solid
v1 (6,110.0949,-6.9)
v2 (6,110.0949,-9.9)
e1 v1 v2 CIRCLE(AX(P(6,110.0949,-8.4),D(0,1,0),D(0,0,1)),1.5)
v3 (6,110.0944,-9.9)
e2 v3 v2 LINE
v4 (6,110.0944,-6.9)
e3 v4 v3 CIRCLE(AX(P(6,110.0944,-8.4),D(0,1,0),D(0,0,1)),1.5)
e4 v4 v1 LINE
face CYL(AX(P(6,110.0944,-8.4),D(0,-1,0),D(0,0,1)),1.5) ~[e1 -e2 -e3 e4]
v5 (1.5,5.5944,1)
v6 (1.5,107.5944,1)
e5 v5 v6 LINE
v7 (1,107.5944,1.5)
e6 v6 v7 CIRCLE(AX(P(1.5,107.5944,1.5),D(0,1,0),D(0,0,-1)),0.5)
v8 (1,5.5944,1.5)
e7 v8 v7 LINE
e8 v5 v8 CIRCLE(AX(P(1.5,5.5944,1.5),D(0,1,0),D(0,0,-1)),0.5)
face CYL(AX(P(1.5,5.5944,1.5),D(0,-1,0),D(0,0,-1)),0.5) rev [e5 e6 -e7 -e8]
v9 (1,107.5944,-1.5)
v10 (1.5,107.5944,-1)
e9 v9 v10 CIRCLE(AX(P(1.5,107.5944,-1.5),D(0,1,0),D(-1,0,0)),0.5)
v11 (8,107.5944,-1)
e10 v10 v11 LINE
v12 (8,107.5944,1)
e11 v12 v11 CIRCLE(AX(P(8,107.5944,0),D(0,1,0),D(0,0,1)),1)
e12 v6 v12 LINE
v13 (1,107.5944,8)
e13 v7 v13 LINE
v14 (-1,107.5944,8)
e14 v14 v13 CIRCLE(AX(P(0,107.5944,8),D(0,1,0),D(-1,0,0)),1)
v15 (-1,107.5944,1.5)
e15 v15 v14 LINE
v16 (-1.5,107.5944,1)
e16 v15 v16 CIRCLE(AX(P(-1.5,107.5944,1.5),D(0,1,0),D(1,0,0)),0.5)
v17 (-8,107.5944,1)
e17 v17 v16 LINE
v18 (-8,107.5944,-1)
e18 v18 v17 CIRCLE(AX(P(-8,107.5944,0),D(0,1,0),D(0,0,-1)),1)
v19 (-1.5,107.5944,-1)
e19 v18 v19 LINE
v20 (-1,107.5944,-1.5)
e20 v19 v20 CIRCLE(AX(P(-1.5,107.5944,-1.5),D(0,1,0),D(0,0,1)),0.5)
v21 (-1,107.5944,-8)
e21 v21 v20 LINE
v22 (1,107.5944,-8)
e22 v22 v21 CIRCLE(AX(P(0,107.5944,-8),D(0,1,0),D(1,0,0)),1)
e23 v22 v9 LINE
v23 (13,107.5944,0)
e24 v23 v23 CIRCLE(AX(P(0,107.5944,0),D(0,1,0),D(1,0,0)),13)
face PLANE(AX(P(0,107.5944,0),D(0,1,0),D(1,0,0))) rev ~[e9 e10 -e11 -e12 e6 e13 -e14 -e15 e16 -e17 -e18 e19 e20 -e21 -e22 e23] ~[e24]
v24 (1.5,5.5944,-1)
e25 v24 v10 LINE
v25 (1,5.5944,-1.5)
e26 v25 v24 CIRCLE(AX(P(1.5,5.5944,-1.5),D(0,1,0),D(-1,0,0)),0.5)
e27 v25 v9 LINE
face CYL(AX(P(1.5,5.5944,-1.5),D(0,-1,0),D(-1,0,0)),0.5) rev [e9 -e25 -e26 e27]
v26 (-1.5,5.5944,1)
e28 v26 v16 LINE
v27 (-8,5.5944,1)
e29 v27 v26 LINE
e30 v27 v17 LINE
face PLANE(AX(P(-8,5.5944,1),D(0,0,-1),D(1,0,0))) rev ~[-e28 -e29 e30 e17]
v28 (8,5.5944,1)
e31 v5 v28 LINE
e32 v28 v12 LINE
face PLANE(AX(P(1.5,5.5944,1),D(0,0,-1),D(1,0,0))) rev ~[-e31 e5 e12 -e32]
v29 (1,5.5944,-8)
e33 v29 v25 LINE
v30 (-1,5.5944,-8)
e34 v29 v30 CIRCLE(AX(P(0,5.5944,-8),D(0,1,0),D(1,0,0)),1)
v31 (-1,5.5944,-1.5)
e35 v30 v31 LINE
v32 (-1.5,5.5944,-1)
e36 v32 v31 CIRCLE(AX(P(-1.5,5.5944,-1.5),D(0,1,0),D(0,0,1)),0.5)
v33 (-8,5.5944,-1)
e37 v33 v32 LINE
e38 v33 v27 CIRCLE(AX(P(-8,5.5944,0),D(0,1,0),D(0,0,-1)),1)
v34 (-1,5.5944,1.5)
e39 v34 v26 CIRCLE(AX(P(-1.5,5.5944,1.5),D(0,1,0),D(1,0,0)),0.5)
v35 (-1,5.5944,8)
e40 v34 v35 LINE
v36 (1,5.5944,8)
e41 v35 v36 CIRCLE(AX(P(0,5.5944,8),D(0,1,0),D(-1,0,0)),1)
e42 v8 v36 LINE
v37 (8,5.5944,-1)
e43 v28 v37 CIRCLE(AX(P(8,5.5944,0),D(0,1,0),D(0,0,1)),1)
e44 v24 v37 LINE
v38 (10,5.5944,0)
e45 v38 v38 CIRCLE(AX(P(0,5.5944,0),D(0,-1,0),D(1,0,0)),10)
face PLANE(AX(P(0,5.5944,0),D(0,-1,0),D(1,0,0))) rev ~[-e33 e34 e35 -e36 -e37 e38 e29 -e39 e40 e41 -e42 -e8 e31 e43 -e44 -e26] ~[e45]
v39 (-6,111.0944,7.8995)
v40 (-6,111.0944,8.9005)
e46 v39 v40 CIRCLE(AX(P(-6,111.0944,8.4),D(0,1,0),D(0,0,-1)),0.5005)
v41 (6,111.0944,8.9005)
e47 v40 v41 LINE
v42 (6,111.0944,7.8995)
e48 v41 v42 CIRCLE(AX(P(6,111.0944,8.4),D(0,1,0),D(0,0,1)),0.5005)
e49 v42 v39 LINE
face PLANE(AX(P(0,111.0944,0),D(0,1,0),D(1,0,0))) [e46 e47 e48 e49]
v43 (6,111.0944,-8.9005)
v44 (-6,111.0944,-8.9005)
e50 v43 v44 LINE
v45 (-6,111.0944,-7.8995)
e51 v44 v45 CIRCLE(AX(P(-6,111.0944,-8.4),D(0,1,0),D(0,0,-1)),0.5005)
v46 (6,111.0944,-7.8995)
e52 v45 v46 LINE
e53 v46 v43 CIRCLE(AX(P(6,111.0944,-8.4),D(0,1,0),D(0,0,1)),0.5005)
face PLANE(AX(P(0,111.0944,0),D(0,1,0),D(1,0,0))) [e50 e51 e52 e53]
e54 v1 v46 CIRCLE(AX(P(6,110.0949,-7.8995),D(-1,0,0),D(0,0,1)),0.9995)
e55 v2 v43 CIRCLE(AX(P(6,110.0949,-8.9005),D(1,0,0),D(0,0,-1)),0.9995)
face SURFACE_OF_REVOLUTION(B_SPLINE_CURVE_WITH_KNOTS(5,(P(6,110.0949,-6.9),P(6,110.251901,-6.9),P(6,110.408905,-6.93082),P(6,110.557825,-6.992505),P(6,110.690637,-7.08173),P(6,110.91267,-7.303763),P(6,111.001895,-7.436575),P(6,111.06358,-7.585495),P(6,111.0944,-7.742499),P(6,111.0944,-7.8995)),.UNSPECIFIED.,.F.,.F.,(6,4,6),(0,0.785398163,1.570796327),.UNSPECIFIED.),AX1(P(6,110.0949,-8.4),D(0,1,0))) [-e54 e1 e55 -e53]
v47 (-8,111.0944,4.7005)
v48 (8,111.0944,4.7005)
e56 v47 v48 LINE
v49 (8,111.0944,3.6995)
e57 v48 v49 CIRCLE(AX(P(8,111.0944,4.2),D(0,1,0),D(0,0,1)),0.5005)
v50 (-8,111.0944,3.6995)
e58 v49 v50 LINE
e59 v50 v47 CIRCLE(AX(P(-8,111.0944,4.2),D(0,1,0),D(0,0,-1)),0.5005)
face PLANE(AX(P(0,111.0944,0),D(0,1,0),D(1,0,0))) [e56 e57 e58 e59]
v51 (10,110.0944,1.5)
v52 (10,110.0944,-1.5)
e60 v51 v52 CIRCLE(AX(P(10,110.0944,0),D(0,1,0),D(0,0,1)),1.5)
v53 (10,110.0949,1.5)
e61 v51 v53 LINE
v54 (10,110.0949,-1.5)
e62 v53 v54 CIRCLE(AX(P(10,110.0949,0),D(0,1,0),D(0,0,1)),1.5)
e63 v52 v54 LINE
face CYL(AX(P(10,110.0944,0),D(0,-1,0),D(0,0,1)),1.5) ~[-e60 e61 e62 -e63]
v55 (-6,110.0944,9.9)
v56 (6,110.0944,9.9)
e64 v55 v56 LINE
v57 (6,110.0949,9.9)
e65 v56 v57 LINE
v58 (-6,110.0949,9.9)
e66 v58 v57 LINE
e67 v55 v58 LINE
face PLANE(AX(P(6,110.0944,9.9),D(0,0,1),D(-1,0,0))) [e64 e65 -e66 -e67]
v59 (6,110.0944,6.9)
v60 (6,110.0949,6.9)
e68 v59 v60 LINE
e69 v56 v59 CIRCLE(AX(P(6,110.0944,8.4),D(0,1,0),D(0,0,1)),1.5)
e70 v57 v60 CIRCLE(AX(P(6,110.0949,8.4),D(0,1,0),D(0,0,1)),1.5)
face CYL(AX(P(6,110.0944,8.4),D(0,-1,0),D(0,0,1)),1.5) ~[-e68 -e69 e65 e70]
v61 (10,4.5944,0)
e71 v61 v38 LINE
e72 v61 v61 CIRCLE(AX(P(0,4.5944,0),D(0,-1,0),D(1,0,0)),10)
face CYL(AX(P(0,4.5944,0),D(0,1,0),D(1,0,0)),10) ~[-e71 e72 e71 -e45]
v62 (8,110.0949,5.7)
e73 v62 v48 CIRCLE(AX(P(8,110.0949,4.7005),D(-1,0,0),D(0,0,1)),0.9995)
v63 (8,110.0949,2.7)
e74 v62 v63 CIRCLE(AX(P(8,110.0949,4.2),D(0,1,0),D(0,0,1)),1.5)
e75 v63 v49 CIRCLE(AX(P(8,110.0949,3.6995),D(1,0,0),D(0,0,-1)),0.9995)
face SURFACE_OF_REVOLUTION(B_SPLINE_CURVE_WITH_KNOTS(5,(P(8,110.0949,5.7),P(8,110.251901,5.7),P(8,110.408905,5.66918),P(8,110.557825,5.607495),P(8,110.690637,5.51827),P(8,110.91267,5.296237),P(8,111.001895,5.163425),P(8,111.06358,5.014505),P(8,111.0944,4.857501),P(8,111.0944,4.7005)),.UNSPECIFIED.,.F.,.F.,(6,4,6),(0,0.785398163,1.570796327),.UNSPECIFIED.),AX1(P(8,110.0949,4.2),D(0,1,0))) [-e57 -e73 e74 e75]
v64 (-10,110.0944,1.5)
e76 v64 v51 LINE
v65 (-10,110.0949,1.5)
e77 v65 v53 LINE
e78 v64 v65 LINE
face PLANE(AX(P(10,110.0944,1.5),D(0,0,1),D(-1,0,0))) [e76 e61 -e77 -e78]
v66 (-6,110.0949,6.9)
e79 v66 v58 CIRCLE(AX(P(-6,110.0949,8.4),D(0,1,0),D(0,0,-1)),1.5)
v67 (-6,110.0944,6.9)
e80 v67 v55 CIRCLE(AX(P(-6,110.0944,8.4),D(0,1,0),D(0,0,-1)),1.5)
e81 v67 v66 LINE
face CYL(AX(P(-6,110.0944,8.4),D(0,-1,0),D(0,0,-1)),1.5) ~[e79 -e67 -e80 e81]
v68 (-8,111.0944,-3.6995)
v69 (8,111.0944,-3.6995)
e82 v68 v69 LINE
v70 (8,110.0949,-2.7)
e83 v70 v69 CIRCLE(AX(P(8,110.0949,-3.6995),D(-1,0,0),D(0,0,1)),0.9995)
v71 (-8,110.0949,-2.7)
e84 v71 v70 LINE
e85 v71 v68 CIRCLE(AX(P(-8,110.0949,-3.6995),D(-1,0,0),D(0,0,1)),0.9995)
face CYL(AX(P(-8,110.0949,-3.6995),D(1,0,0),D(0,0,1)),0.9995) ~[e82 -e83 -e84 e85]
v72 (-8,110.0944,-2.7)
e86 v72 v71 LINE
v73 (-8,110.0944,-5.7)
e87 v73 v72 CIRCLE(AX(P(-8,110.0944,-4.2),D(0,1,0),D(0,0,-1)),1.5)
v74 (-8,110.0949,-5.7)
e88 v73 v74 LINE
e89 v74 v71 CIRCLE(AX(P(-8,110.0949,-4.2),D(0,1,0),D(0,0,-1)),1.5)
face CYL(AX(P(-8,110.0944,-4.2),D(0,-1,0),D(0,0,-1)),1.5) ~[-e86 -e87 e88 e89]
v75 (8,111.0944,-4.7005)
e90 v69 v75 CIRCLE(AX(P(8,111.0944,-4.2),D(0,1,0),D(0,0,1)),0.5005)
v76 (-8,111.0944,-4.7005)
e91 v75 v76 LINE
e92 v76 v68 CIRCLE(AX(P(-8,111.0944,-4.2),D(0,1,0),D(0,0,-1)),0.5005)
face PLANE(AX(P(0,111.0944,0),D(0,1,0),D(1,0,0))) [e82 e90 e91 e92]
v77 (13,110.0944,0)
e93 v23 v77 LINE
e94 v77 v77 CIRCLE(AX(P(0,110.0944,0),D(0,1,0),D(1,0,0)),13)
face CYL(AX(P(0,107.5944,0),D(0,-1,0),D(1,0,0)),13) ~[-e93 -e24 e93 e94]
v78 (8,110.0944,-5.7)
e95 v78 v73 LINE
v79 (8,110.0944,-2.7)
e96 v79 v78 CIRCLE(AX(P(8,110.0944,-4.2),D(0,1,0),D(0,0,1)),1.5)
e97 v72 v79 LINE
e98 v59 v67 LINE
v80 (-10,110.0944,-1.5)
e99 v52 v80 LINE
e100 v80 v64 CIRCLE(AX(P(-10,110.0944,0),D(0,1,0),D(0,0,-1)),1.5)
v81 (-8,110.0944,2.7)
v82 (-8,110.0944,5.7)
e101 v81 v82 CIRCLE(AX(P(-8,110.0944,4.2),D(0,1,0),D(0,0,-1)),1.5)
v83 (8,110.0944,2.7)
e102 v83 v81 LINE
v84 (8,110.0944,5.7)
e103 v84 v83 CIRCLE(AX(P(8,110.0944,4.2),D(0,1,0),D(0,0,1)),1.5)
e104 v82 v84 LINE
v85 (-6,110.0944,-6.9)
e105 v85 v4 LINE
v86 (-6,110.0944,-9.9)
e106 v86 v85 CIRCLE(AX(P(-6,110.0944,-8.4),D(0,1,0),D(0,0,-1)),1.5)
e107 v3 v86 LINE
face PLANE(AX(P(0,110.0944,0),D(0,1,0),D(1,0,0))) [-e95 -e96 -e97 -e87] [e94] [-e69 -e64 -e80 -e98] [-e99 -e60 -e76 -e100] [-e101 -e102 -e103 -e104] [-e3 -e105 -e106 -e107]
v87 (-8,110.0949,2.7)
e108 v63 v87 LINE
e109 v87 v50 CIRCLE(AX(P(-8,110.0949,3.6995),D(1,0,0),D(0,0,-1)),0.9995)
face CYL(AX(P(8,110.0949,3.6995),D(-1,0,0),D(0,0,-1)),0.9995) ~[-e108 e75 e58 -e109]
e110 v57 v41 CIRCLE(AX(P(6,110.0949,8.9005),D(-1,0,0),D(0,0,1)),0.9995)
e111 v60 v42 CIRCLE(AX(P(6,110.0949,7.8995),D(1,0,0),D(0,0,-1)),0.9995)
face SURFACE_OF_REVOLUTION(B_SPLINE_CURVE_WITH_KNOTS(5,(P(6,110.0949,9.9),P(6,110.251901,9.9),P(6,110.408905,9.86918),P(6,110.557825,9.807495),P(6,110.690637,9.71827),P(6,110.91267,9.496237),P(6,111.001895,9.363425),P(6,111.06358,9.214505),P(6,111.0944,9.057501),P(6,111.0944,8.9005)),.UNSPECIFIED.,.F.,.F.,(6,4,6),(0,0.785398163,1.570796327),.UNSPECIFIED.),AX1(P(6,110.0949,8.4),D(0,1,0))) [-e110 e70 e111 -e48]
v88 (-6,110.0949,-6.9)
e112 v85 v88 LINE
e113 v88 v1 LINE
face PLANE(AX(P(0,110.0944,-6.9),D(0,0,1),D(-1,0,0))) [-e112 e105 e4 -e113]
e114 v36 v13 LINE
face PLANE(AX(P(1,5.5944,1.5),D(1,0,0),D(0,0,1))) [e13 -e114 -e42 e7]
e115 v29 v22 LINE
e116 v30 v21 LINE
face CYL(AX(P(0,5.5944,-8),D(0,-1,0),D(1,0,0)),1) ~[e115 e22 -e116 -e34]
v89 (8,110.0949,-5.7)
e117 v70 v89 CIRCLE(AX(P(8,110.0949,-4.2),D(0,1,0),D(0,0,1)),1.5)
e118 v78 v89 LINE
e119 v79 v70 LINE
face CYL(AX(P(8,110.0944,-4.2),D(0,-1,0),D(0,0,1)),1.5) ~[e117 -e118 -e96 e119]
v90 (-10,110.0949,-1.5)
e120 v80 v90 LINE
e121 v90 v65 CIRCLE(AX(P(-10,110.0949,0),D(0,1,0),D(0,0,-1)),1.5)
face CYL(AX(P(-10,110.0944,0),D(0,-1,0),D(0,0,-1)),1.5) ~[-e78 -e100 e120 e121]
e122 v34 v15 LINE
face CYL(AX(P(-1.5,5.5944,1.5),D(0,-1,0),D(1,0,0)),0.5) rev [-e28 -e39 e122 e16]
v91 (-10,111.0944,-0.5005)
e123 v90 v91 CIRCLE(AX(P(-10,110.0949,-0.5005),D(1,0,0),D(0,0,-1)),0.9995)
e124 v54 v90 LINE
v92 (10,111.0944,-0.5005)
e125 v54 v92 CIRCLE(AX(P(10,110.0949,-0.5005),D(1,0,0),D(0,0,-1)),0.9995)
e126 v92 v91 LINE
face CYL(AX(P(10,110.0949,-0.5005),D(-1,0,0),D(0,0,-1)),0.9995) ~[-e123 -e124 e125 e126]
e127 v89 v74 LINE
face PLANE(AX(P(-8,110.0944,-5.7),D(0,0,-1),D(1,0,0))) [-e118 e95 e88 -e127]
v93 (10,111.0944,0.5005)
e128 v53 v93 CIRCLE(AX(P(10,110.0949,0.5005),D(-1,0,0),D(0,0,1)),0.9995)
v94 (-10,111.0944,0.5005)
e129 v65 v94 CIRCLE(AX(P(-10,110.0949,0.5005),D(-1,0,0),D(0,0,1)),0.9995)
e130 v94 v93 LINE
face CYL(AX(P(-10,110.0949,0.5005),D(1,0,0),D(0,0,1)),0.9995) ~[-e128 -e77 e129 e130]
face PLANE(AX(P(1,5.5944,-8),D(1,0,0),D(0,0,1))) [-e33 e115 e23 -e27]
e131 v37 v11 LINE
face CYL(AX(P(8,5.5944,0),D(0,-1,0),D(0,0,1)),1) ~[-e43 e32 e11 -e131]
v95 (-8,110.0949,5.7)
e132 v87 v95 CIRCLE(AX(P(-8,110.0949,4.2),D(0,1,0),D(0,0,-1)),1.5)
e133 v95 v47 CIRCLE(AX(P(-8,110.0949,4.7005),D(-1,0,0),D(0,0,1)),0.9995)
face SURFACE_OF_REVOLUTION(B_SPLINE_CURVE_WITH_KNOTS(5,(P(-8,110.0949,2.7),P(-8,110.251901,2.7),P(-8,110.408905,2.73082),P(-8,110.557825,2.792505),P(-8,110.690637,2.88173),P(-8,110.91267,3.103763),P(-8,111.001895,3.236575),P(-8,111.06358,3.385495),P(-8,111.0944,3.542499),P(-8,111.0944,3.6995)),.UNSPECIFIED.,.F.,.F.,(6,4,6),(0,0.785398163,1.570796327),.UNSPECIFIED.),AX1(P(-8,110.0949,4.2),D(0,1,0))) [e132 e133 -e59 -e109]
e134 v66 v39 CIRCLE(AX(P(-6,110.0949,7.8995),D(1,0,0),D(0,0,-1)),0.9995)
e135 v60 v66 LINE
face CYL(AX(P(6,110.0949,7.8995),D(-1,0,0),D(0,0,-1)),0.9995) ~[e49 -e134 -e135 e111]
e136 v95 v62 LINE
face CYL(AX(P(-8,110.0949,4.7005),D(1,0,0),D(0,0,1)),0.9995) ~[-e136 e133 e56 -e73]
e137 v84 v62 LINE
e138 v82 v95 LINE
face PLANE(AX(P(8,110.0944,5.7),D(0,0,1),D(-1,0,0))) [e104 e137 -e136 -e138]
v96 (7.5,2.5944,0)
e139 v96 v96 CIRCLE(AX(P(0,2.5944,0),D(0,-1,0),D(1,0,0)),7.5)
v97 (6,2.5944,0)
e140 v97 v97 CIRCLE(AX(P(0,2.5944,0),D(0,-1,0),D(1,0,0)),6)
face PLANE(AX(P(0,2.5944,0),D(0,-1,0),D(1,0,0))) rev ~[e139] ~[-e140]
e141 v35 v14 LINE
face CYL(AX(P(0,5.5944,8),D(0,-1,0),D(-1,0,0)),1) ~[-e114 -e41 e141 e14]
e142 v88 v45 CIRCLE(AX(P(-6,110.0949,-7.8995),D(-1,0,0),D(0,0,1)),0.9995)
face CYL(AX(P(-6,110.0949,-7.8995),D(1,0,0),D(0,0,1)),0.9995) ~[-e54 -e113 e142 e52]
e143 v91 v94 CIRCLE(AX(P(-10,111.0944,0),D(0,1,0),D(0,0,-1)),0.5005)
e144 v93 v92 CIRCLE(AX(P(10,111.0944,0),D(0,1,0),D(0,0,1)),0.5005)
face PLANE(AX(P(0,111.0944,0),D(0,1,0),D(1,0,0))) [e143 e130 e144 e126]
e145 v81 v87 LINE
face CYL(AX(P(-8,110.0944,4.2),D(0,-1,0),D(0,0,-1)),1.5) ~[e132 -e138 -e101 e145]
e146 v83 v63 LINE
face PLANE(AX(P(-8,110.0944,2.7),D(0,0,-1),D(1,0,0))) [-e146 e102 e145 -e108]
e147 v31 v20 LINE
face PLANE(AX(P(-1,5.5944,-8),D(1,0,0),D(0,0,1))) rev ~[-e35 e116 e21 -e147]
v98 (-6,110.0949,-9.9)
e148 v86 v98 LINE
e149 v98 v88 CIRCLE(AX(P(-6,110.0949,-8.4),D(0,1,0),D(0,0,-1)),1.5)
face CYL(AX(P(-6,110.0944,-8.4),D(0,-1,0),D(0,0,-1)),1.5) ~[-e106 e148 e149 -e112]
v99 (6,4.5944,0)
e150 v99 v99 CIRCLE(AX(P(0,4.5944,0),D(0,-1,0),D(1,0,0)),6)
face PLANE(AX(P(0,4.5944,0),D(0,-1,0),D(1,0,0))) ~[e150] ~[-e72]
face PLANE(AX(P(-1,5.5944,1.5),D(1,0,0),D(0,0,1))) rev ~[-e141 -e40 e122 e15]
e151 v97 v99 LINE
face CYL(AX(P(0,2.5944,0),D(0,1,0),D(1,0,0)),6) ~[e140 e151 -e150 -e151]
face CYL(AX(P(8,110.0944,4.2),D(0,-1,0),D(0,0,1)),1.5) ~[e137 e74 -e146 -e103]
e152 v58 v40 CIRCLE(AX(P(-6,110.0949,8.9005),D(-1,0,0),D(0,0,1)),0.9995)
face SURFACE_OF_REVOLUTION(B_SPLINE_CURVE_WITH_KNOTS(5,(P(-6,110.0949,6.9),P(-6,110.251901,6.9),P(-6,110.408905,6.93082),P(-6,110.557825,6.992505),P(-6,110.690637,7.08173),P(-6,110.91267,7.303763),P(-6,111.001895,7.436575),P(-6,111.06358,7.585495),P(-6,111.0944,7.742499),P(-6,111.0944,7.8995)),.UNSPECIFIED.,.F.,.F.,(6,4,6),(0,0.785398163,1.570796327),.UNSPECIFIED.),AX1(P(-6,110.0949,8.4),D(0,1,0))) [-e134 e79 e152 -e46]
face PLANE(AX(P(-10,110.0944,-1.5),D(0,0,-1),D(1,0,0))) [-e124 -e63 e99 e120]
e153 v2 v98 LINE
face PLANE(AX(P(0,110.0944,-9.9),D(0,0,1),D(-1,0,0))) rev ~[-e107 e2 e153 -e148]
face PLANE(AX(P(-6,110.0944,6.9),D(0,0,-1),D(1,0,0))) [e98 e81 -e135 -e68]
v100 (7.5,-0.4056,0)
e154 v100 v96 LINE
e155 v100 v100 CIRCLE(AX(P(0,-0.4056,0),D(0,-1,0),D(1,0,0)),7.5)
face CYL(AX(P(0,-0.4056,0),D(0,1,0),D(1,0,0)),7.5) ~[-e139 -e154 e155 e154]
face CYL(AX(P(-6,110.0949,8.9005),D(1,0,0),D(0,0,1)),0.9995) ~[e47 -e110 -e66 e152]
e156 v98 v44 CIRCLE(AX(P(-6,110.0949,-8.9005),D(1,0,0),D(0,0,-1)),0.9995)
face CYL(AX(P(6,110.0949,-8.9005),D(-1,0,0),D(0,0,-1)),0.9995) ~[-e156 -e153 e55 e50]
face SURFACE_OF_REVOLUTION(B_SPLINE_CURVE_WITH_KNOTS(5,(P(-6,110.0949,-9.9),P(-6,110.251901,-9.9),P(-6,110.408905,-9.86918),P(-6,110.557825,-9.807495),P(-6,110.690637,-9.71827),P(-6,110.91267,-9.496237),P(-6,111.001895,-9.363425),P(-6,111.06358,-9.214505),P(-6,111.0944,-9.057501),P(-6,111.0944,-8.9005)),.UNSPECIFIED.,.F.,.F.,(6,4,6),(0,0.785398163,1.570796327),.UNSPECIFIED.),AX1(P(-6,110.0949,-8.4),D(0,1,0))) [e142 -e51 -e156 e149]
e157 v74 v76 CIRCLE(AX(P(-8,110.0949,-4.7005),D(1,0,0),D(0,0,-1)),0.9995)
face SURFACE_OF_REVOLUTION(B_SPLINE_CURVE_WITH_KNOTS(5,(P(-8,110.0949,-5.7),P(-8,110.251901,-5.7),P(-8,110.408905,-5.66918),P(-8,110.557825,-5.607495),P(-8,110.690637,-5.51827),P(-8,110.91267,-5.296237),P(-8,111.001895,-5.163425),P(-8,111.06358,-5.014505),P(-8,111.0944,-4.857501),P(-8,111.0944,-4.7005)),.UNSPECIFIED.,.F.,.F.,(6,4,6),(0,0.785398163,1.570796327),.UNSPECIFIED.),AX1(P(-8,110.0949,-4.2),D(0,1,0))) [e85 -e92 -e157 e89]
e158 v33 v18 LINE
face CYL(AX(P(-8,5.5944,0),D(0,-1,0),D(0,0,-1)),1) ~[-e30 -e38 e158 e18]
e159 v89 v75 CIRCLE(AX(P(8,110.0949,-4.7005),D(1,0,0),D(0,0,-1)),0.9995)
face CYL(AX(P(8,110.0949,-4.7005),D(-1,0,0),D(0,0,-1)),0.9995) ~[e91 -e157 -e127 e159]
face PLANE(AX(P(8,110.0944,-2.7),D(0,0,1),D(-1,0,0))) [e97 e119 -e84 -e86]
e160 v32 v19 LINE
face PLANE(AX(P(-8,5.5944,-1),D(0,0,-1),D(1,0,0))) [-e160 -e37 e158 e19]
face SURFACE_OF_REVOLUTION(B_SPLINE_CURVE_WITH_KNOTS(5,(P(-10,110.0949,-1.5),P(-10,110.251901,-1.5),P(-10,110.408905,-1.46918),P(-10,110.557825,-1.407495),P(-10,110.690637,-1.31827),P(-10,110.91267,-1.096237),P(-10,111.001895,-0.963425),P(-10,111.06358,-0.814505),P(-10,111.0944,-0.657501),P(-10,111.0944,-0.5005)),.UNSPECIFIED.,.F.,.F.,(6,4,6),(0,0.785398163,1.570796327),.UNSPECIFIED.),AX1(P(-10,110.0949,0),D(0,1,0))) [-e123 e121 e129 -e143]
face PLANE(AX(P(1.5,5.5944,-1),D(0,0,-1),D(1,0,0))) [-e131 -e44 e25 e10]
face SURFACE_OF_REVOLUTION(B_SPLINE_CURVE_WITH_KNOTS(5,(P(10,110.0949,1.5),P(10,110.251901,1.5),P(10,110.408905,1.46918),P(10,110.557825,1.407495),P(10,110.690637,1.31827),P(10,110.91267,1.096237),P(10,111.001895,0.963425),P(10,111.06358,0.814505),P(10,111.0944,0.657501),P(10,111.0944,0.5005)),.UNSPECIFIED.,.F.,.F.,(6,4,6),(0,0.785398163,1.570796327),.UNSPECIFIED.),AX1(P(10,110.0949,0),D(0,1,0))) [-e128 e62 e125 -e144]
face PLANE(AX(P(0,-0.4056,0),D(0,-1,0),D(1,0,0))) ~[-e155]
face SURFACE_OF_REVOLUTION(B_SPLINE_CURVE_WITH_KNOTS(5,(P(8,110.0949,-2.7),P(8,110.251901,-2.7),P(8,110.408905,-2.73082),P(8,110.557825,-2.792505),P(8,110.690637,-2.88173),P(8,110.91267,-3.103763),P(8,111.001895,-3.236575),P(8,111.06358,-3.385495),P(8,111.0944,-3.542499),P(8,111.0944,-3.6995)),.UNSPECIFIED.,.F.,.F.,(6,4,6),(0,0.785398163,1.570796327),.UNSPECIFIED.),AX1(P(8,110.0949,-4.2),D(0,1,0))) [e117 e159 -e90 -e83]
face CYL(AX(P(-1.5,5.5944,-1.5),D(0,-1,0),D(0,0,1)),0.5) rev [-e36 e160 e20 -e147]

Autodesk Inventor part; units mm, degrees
ref_plane "YZ Plane" through (0, 0, 0) normal (1, 0, 0) x (0, 1, 0)
ref_plane "XZ Plane" through (0, 0, 0) normal (0, 1, 0) x (-1, 0, 0)
ref_plane "XY Plane" through (0, 0, 0) normal (0, 0, 1) x (1, 0, 0)
sketch "Sketch1" plane through (0, 0, 0) normal (0, 0, 1) x (1, 0, 0)
  line L0 (0, 5.5944) -> (0, -0.4056)
  line L1 (0, -0.4056) -> (7.5, -0.4056)
  line L2 (7.5, -0.4056) -> (7.5, 2.5944)
  line L3 (7.5, 2.5944) -> (6, 2.5944)
  line L4 (6, 2.5944) -> (6, 4.5944)
  line L5 (6, 4.5944) -> (10, 4.5944)
  line L6 (10, 4.5944) -> (10, 5.5944)
  line L7 (10, 5.5944) -> (0, 5.5944)
  point P0 (0, 0)
  dimension "d0" = 10
  dimension "d1" = 6
  dimension "d2" = 1
  dimension "d3" = 2
  dimension "d4" = 3
  dimension "d5" = 7.5
revolve "Revolution1" add sketch "Sketch1" angle 360 about axis through (0, 5.5944, 0) along (0, -1, 0)
sketch "Sketch2" plane through (0, 5.5944, 0) normal (0, 1, 0) x (1, 0, 0)
  arc A0 (1, 8) -> (-1, 8) centre (0, 8) ccw
  arc A1 (8, -1) -> (8, 1) centre (8, 0) ccw
  arc A2 (-1, -8) -> (1, -8) centre (0, -8) ccw
  arc A3 (-8, 1) -> (-8, -1) centre (-8, 0) ccw
  line L0 (-1, 8) -> (-1, 1.5)
  line L1 (-1, -1.5) -> (-1, -8)
  line L2 (1, 8) -> (1, 1.5)
  line L3 (1, -1.5) -> (1, -8)
  line L4 (-8, -1) -> (-1.5, -1)
  line L5 (1.5, -1) -> (8, -1)
  line L6 (-8, 1) -> (-1.5, 1)
  line L7 (1.5, 1) -> (8, 1)
  arc A4 (-1.5, 1) -> (-1, 1.5) centre (-1.5, 1.5) ccw
  arc A5 (1, 1.5) -> (1.5, 1) centre (1.5, 1.5) ccw
  arc A6 (-1, -1.5) -> (-1.5, -1) centre (-1.5, -1.5) ccw
  arc A7 (1.5, -1) -> (1, -1.5) centre (1.5, -1.5) ccw
  point P0 (0, 0)
  dimension "d11" = 8
  dimension "d16" = 8
  dimension "d17" = 8
  dimension "d18" = 8
  dimension "d19" = 0.5
extrude "Extrusion1" add sketch "Sketch2" along normal blind 102
sketch "Sketch3" plane through (0, 107.5944, 0) normal (0, 1, 0) x (1, 0, 0)
  circle A0 centre (0, 0) radius 13
  dimension "d22" = 26
extrude "Extrusion2" add sketch "Sketch3" along normal blind 2.5
sketch "Sketch4" plane through (0, 110.0944, 0) normal (0, 1, 0) x (1, 0, 0)
  line L0 (10, -1.5) -> (0, -1.5)
  line L1 (10, 1.5) -> (0, 1.5)
  arc A0 (10, -1.5) -> (10, 1.5) centre (10, 0) ccw
  line L2 (8, 2.7) -> (0, 2.7)
  line L3 (8, 5.7) -> (0, 5.7)
  arc A1 (8, 2.7) -> (8, 5.7) centre (8, 4.2) ccw
  line L4 (0, 6.9) -> (6, 6.9)
  line L5 (0, 9.9) -> (6, 9.9)
  arc A2 (6, 6.9) -> (6, 9.9) centre (6, 8.4) ccw
  line L6 (8, -2.7) -> (0, -2.7)
  line L7 (8, -5.7) -> (0, -5.7)
  arc A3 (8, -5.7) -> (8, -2.7) centre (8, -4.2) ccw
  line L8 (6, -6.9) -> (0, -6.9)
  line L9 (6, -9.9) -> (0, -9.9)
  arc A4 (6, -9.9) -> (6, -6.9) centre (6, -8.4) ccw
  line L10 (-10, -1.5) -> (0, -1.5)
  line L11 (-10, 1.5) -> (0, 1.5)
  arc A5 (-10, 1.5) -> (-10, -1.5) centre (-10, 0) ccw
  line L12 (-8, 2.7) -> (0, 2.7)
  line L13 (-8, 5.7) -> (0, 5.7)
  arc A6 (-8, 5.7) -> (-8, 2.7) centre (-8, 4.2) ccw
  line L14 (0, 6.9) -> (-6, 6.9)
  line L15 (0, 9.9) -> (-6, 9.9)
  arc A7 (-6, 9.9) -> (-6, 6.9) centre (-6, 8.4) ccw
  line L16 (-8, -2.7) -> (0, -2.7)
  line L17 (-8, -5.7) -> (0, -5.7)
  arc A8 (-8, -2.7) -> (-8, -5.7) centre (-8, -4.2) ccw
  line L18 (-6, -6.9) -> (0, -6.9)
  line L19 (-6, -9.9) -> (0, -9.9)
  arc A9 (-6, -6.9) -> (-6, -9.9) centre (-6, -8.4) ccw
  point P0 (0, 0)
  dimension "d25" = 1.5
  dimension "d26" = 1.5
  dimension "d27" = 10
  dimension "d28" = 10
  dimension "d29" = 1.2
  dimension "d30" = 3
  dimension "d31" = 8
  dimension "d32" = 8
  dimension "d33" = 1.2
  dimension "d34" = 6
  dimension "d35" = 6
  dimension "d36" = 3
  dimension "d37" = 1.2
  dimension "d38" = 8
  dimension "d39" = 8
  dimension "d40" = 3
  dimension "d41" = 1.2
  dimension "d42" = 3
  dimension "d43" = 6
  dimension "d44" = 6
extrude "Extrusion3" add sketch "Sketch4" along normal blind 1
fillet "Fillet1" radius 1 20 edges at (7.5, 111.0944, -8.4) (0, 111.0944, -9.9) (-7.5, 111.0944, -8.4) (0, 111.0944, -6.9) (9.5, 111.0944, -4.2) (0, 111.0944, -5.7) (-9.5, 111.0944, -4.2) (0, 111.0944, -2.7) (11.5, 111.0944, 0) (0, 111.0944, -1.5) (-11.5, 111.0944, 0) (0, 111.0944, 1.5) (9.5, 111.0944, 4.2) (0, 111.0944, 2.7) (-9.5, 111.0944, 4.2) (0, 111.0944, 5.7) (7.5, 111.0944, 8.4) (0, 111.0944, 6.9) (-7.5, 111.0944, 8.4) (0, 111.0944, 9.9)
properties part number "Plunger"
